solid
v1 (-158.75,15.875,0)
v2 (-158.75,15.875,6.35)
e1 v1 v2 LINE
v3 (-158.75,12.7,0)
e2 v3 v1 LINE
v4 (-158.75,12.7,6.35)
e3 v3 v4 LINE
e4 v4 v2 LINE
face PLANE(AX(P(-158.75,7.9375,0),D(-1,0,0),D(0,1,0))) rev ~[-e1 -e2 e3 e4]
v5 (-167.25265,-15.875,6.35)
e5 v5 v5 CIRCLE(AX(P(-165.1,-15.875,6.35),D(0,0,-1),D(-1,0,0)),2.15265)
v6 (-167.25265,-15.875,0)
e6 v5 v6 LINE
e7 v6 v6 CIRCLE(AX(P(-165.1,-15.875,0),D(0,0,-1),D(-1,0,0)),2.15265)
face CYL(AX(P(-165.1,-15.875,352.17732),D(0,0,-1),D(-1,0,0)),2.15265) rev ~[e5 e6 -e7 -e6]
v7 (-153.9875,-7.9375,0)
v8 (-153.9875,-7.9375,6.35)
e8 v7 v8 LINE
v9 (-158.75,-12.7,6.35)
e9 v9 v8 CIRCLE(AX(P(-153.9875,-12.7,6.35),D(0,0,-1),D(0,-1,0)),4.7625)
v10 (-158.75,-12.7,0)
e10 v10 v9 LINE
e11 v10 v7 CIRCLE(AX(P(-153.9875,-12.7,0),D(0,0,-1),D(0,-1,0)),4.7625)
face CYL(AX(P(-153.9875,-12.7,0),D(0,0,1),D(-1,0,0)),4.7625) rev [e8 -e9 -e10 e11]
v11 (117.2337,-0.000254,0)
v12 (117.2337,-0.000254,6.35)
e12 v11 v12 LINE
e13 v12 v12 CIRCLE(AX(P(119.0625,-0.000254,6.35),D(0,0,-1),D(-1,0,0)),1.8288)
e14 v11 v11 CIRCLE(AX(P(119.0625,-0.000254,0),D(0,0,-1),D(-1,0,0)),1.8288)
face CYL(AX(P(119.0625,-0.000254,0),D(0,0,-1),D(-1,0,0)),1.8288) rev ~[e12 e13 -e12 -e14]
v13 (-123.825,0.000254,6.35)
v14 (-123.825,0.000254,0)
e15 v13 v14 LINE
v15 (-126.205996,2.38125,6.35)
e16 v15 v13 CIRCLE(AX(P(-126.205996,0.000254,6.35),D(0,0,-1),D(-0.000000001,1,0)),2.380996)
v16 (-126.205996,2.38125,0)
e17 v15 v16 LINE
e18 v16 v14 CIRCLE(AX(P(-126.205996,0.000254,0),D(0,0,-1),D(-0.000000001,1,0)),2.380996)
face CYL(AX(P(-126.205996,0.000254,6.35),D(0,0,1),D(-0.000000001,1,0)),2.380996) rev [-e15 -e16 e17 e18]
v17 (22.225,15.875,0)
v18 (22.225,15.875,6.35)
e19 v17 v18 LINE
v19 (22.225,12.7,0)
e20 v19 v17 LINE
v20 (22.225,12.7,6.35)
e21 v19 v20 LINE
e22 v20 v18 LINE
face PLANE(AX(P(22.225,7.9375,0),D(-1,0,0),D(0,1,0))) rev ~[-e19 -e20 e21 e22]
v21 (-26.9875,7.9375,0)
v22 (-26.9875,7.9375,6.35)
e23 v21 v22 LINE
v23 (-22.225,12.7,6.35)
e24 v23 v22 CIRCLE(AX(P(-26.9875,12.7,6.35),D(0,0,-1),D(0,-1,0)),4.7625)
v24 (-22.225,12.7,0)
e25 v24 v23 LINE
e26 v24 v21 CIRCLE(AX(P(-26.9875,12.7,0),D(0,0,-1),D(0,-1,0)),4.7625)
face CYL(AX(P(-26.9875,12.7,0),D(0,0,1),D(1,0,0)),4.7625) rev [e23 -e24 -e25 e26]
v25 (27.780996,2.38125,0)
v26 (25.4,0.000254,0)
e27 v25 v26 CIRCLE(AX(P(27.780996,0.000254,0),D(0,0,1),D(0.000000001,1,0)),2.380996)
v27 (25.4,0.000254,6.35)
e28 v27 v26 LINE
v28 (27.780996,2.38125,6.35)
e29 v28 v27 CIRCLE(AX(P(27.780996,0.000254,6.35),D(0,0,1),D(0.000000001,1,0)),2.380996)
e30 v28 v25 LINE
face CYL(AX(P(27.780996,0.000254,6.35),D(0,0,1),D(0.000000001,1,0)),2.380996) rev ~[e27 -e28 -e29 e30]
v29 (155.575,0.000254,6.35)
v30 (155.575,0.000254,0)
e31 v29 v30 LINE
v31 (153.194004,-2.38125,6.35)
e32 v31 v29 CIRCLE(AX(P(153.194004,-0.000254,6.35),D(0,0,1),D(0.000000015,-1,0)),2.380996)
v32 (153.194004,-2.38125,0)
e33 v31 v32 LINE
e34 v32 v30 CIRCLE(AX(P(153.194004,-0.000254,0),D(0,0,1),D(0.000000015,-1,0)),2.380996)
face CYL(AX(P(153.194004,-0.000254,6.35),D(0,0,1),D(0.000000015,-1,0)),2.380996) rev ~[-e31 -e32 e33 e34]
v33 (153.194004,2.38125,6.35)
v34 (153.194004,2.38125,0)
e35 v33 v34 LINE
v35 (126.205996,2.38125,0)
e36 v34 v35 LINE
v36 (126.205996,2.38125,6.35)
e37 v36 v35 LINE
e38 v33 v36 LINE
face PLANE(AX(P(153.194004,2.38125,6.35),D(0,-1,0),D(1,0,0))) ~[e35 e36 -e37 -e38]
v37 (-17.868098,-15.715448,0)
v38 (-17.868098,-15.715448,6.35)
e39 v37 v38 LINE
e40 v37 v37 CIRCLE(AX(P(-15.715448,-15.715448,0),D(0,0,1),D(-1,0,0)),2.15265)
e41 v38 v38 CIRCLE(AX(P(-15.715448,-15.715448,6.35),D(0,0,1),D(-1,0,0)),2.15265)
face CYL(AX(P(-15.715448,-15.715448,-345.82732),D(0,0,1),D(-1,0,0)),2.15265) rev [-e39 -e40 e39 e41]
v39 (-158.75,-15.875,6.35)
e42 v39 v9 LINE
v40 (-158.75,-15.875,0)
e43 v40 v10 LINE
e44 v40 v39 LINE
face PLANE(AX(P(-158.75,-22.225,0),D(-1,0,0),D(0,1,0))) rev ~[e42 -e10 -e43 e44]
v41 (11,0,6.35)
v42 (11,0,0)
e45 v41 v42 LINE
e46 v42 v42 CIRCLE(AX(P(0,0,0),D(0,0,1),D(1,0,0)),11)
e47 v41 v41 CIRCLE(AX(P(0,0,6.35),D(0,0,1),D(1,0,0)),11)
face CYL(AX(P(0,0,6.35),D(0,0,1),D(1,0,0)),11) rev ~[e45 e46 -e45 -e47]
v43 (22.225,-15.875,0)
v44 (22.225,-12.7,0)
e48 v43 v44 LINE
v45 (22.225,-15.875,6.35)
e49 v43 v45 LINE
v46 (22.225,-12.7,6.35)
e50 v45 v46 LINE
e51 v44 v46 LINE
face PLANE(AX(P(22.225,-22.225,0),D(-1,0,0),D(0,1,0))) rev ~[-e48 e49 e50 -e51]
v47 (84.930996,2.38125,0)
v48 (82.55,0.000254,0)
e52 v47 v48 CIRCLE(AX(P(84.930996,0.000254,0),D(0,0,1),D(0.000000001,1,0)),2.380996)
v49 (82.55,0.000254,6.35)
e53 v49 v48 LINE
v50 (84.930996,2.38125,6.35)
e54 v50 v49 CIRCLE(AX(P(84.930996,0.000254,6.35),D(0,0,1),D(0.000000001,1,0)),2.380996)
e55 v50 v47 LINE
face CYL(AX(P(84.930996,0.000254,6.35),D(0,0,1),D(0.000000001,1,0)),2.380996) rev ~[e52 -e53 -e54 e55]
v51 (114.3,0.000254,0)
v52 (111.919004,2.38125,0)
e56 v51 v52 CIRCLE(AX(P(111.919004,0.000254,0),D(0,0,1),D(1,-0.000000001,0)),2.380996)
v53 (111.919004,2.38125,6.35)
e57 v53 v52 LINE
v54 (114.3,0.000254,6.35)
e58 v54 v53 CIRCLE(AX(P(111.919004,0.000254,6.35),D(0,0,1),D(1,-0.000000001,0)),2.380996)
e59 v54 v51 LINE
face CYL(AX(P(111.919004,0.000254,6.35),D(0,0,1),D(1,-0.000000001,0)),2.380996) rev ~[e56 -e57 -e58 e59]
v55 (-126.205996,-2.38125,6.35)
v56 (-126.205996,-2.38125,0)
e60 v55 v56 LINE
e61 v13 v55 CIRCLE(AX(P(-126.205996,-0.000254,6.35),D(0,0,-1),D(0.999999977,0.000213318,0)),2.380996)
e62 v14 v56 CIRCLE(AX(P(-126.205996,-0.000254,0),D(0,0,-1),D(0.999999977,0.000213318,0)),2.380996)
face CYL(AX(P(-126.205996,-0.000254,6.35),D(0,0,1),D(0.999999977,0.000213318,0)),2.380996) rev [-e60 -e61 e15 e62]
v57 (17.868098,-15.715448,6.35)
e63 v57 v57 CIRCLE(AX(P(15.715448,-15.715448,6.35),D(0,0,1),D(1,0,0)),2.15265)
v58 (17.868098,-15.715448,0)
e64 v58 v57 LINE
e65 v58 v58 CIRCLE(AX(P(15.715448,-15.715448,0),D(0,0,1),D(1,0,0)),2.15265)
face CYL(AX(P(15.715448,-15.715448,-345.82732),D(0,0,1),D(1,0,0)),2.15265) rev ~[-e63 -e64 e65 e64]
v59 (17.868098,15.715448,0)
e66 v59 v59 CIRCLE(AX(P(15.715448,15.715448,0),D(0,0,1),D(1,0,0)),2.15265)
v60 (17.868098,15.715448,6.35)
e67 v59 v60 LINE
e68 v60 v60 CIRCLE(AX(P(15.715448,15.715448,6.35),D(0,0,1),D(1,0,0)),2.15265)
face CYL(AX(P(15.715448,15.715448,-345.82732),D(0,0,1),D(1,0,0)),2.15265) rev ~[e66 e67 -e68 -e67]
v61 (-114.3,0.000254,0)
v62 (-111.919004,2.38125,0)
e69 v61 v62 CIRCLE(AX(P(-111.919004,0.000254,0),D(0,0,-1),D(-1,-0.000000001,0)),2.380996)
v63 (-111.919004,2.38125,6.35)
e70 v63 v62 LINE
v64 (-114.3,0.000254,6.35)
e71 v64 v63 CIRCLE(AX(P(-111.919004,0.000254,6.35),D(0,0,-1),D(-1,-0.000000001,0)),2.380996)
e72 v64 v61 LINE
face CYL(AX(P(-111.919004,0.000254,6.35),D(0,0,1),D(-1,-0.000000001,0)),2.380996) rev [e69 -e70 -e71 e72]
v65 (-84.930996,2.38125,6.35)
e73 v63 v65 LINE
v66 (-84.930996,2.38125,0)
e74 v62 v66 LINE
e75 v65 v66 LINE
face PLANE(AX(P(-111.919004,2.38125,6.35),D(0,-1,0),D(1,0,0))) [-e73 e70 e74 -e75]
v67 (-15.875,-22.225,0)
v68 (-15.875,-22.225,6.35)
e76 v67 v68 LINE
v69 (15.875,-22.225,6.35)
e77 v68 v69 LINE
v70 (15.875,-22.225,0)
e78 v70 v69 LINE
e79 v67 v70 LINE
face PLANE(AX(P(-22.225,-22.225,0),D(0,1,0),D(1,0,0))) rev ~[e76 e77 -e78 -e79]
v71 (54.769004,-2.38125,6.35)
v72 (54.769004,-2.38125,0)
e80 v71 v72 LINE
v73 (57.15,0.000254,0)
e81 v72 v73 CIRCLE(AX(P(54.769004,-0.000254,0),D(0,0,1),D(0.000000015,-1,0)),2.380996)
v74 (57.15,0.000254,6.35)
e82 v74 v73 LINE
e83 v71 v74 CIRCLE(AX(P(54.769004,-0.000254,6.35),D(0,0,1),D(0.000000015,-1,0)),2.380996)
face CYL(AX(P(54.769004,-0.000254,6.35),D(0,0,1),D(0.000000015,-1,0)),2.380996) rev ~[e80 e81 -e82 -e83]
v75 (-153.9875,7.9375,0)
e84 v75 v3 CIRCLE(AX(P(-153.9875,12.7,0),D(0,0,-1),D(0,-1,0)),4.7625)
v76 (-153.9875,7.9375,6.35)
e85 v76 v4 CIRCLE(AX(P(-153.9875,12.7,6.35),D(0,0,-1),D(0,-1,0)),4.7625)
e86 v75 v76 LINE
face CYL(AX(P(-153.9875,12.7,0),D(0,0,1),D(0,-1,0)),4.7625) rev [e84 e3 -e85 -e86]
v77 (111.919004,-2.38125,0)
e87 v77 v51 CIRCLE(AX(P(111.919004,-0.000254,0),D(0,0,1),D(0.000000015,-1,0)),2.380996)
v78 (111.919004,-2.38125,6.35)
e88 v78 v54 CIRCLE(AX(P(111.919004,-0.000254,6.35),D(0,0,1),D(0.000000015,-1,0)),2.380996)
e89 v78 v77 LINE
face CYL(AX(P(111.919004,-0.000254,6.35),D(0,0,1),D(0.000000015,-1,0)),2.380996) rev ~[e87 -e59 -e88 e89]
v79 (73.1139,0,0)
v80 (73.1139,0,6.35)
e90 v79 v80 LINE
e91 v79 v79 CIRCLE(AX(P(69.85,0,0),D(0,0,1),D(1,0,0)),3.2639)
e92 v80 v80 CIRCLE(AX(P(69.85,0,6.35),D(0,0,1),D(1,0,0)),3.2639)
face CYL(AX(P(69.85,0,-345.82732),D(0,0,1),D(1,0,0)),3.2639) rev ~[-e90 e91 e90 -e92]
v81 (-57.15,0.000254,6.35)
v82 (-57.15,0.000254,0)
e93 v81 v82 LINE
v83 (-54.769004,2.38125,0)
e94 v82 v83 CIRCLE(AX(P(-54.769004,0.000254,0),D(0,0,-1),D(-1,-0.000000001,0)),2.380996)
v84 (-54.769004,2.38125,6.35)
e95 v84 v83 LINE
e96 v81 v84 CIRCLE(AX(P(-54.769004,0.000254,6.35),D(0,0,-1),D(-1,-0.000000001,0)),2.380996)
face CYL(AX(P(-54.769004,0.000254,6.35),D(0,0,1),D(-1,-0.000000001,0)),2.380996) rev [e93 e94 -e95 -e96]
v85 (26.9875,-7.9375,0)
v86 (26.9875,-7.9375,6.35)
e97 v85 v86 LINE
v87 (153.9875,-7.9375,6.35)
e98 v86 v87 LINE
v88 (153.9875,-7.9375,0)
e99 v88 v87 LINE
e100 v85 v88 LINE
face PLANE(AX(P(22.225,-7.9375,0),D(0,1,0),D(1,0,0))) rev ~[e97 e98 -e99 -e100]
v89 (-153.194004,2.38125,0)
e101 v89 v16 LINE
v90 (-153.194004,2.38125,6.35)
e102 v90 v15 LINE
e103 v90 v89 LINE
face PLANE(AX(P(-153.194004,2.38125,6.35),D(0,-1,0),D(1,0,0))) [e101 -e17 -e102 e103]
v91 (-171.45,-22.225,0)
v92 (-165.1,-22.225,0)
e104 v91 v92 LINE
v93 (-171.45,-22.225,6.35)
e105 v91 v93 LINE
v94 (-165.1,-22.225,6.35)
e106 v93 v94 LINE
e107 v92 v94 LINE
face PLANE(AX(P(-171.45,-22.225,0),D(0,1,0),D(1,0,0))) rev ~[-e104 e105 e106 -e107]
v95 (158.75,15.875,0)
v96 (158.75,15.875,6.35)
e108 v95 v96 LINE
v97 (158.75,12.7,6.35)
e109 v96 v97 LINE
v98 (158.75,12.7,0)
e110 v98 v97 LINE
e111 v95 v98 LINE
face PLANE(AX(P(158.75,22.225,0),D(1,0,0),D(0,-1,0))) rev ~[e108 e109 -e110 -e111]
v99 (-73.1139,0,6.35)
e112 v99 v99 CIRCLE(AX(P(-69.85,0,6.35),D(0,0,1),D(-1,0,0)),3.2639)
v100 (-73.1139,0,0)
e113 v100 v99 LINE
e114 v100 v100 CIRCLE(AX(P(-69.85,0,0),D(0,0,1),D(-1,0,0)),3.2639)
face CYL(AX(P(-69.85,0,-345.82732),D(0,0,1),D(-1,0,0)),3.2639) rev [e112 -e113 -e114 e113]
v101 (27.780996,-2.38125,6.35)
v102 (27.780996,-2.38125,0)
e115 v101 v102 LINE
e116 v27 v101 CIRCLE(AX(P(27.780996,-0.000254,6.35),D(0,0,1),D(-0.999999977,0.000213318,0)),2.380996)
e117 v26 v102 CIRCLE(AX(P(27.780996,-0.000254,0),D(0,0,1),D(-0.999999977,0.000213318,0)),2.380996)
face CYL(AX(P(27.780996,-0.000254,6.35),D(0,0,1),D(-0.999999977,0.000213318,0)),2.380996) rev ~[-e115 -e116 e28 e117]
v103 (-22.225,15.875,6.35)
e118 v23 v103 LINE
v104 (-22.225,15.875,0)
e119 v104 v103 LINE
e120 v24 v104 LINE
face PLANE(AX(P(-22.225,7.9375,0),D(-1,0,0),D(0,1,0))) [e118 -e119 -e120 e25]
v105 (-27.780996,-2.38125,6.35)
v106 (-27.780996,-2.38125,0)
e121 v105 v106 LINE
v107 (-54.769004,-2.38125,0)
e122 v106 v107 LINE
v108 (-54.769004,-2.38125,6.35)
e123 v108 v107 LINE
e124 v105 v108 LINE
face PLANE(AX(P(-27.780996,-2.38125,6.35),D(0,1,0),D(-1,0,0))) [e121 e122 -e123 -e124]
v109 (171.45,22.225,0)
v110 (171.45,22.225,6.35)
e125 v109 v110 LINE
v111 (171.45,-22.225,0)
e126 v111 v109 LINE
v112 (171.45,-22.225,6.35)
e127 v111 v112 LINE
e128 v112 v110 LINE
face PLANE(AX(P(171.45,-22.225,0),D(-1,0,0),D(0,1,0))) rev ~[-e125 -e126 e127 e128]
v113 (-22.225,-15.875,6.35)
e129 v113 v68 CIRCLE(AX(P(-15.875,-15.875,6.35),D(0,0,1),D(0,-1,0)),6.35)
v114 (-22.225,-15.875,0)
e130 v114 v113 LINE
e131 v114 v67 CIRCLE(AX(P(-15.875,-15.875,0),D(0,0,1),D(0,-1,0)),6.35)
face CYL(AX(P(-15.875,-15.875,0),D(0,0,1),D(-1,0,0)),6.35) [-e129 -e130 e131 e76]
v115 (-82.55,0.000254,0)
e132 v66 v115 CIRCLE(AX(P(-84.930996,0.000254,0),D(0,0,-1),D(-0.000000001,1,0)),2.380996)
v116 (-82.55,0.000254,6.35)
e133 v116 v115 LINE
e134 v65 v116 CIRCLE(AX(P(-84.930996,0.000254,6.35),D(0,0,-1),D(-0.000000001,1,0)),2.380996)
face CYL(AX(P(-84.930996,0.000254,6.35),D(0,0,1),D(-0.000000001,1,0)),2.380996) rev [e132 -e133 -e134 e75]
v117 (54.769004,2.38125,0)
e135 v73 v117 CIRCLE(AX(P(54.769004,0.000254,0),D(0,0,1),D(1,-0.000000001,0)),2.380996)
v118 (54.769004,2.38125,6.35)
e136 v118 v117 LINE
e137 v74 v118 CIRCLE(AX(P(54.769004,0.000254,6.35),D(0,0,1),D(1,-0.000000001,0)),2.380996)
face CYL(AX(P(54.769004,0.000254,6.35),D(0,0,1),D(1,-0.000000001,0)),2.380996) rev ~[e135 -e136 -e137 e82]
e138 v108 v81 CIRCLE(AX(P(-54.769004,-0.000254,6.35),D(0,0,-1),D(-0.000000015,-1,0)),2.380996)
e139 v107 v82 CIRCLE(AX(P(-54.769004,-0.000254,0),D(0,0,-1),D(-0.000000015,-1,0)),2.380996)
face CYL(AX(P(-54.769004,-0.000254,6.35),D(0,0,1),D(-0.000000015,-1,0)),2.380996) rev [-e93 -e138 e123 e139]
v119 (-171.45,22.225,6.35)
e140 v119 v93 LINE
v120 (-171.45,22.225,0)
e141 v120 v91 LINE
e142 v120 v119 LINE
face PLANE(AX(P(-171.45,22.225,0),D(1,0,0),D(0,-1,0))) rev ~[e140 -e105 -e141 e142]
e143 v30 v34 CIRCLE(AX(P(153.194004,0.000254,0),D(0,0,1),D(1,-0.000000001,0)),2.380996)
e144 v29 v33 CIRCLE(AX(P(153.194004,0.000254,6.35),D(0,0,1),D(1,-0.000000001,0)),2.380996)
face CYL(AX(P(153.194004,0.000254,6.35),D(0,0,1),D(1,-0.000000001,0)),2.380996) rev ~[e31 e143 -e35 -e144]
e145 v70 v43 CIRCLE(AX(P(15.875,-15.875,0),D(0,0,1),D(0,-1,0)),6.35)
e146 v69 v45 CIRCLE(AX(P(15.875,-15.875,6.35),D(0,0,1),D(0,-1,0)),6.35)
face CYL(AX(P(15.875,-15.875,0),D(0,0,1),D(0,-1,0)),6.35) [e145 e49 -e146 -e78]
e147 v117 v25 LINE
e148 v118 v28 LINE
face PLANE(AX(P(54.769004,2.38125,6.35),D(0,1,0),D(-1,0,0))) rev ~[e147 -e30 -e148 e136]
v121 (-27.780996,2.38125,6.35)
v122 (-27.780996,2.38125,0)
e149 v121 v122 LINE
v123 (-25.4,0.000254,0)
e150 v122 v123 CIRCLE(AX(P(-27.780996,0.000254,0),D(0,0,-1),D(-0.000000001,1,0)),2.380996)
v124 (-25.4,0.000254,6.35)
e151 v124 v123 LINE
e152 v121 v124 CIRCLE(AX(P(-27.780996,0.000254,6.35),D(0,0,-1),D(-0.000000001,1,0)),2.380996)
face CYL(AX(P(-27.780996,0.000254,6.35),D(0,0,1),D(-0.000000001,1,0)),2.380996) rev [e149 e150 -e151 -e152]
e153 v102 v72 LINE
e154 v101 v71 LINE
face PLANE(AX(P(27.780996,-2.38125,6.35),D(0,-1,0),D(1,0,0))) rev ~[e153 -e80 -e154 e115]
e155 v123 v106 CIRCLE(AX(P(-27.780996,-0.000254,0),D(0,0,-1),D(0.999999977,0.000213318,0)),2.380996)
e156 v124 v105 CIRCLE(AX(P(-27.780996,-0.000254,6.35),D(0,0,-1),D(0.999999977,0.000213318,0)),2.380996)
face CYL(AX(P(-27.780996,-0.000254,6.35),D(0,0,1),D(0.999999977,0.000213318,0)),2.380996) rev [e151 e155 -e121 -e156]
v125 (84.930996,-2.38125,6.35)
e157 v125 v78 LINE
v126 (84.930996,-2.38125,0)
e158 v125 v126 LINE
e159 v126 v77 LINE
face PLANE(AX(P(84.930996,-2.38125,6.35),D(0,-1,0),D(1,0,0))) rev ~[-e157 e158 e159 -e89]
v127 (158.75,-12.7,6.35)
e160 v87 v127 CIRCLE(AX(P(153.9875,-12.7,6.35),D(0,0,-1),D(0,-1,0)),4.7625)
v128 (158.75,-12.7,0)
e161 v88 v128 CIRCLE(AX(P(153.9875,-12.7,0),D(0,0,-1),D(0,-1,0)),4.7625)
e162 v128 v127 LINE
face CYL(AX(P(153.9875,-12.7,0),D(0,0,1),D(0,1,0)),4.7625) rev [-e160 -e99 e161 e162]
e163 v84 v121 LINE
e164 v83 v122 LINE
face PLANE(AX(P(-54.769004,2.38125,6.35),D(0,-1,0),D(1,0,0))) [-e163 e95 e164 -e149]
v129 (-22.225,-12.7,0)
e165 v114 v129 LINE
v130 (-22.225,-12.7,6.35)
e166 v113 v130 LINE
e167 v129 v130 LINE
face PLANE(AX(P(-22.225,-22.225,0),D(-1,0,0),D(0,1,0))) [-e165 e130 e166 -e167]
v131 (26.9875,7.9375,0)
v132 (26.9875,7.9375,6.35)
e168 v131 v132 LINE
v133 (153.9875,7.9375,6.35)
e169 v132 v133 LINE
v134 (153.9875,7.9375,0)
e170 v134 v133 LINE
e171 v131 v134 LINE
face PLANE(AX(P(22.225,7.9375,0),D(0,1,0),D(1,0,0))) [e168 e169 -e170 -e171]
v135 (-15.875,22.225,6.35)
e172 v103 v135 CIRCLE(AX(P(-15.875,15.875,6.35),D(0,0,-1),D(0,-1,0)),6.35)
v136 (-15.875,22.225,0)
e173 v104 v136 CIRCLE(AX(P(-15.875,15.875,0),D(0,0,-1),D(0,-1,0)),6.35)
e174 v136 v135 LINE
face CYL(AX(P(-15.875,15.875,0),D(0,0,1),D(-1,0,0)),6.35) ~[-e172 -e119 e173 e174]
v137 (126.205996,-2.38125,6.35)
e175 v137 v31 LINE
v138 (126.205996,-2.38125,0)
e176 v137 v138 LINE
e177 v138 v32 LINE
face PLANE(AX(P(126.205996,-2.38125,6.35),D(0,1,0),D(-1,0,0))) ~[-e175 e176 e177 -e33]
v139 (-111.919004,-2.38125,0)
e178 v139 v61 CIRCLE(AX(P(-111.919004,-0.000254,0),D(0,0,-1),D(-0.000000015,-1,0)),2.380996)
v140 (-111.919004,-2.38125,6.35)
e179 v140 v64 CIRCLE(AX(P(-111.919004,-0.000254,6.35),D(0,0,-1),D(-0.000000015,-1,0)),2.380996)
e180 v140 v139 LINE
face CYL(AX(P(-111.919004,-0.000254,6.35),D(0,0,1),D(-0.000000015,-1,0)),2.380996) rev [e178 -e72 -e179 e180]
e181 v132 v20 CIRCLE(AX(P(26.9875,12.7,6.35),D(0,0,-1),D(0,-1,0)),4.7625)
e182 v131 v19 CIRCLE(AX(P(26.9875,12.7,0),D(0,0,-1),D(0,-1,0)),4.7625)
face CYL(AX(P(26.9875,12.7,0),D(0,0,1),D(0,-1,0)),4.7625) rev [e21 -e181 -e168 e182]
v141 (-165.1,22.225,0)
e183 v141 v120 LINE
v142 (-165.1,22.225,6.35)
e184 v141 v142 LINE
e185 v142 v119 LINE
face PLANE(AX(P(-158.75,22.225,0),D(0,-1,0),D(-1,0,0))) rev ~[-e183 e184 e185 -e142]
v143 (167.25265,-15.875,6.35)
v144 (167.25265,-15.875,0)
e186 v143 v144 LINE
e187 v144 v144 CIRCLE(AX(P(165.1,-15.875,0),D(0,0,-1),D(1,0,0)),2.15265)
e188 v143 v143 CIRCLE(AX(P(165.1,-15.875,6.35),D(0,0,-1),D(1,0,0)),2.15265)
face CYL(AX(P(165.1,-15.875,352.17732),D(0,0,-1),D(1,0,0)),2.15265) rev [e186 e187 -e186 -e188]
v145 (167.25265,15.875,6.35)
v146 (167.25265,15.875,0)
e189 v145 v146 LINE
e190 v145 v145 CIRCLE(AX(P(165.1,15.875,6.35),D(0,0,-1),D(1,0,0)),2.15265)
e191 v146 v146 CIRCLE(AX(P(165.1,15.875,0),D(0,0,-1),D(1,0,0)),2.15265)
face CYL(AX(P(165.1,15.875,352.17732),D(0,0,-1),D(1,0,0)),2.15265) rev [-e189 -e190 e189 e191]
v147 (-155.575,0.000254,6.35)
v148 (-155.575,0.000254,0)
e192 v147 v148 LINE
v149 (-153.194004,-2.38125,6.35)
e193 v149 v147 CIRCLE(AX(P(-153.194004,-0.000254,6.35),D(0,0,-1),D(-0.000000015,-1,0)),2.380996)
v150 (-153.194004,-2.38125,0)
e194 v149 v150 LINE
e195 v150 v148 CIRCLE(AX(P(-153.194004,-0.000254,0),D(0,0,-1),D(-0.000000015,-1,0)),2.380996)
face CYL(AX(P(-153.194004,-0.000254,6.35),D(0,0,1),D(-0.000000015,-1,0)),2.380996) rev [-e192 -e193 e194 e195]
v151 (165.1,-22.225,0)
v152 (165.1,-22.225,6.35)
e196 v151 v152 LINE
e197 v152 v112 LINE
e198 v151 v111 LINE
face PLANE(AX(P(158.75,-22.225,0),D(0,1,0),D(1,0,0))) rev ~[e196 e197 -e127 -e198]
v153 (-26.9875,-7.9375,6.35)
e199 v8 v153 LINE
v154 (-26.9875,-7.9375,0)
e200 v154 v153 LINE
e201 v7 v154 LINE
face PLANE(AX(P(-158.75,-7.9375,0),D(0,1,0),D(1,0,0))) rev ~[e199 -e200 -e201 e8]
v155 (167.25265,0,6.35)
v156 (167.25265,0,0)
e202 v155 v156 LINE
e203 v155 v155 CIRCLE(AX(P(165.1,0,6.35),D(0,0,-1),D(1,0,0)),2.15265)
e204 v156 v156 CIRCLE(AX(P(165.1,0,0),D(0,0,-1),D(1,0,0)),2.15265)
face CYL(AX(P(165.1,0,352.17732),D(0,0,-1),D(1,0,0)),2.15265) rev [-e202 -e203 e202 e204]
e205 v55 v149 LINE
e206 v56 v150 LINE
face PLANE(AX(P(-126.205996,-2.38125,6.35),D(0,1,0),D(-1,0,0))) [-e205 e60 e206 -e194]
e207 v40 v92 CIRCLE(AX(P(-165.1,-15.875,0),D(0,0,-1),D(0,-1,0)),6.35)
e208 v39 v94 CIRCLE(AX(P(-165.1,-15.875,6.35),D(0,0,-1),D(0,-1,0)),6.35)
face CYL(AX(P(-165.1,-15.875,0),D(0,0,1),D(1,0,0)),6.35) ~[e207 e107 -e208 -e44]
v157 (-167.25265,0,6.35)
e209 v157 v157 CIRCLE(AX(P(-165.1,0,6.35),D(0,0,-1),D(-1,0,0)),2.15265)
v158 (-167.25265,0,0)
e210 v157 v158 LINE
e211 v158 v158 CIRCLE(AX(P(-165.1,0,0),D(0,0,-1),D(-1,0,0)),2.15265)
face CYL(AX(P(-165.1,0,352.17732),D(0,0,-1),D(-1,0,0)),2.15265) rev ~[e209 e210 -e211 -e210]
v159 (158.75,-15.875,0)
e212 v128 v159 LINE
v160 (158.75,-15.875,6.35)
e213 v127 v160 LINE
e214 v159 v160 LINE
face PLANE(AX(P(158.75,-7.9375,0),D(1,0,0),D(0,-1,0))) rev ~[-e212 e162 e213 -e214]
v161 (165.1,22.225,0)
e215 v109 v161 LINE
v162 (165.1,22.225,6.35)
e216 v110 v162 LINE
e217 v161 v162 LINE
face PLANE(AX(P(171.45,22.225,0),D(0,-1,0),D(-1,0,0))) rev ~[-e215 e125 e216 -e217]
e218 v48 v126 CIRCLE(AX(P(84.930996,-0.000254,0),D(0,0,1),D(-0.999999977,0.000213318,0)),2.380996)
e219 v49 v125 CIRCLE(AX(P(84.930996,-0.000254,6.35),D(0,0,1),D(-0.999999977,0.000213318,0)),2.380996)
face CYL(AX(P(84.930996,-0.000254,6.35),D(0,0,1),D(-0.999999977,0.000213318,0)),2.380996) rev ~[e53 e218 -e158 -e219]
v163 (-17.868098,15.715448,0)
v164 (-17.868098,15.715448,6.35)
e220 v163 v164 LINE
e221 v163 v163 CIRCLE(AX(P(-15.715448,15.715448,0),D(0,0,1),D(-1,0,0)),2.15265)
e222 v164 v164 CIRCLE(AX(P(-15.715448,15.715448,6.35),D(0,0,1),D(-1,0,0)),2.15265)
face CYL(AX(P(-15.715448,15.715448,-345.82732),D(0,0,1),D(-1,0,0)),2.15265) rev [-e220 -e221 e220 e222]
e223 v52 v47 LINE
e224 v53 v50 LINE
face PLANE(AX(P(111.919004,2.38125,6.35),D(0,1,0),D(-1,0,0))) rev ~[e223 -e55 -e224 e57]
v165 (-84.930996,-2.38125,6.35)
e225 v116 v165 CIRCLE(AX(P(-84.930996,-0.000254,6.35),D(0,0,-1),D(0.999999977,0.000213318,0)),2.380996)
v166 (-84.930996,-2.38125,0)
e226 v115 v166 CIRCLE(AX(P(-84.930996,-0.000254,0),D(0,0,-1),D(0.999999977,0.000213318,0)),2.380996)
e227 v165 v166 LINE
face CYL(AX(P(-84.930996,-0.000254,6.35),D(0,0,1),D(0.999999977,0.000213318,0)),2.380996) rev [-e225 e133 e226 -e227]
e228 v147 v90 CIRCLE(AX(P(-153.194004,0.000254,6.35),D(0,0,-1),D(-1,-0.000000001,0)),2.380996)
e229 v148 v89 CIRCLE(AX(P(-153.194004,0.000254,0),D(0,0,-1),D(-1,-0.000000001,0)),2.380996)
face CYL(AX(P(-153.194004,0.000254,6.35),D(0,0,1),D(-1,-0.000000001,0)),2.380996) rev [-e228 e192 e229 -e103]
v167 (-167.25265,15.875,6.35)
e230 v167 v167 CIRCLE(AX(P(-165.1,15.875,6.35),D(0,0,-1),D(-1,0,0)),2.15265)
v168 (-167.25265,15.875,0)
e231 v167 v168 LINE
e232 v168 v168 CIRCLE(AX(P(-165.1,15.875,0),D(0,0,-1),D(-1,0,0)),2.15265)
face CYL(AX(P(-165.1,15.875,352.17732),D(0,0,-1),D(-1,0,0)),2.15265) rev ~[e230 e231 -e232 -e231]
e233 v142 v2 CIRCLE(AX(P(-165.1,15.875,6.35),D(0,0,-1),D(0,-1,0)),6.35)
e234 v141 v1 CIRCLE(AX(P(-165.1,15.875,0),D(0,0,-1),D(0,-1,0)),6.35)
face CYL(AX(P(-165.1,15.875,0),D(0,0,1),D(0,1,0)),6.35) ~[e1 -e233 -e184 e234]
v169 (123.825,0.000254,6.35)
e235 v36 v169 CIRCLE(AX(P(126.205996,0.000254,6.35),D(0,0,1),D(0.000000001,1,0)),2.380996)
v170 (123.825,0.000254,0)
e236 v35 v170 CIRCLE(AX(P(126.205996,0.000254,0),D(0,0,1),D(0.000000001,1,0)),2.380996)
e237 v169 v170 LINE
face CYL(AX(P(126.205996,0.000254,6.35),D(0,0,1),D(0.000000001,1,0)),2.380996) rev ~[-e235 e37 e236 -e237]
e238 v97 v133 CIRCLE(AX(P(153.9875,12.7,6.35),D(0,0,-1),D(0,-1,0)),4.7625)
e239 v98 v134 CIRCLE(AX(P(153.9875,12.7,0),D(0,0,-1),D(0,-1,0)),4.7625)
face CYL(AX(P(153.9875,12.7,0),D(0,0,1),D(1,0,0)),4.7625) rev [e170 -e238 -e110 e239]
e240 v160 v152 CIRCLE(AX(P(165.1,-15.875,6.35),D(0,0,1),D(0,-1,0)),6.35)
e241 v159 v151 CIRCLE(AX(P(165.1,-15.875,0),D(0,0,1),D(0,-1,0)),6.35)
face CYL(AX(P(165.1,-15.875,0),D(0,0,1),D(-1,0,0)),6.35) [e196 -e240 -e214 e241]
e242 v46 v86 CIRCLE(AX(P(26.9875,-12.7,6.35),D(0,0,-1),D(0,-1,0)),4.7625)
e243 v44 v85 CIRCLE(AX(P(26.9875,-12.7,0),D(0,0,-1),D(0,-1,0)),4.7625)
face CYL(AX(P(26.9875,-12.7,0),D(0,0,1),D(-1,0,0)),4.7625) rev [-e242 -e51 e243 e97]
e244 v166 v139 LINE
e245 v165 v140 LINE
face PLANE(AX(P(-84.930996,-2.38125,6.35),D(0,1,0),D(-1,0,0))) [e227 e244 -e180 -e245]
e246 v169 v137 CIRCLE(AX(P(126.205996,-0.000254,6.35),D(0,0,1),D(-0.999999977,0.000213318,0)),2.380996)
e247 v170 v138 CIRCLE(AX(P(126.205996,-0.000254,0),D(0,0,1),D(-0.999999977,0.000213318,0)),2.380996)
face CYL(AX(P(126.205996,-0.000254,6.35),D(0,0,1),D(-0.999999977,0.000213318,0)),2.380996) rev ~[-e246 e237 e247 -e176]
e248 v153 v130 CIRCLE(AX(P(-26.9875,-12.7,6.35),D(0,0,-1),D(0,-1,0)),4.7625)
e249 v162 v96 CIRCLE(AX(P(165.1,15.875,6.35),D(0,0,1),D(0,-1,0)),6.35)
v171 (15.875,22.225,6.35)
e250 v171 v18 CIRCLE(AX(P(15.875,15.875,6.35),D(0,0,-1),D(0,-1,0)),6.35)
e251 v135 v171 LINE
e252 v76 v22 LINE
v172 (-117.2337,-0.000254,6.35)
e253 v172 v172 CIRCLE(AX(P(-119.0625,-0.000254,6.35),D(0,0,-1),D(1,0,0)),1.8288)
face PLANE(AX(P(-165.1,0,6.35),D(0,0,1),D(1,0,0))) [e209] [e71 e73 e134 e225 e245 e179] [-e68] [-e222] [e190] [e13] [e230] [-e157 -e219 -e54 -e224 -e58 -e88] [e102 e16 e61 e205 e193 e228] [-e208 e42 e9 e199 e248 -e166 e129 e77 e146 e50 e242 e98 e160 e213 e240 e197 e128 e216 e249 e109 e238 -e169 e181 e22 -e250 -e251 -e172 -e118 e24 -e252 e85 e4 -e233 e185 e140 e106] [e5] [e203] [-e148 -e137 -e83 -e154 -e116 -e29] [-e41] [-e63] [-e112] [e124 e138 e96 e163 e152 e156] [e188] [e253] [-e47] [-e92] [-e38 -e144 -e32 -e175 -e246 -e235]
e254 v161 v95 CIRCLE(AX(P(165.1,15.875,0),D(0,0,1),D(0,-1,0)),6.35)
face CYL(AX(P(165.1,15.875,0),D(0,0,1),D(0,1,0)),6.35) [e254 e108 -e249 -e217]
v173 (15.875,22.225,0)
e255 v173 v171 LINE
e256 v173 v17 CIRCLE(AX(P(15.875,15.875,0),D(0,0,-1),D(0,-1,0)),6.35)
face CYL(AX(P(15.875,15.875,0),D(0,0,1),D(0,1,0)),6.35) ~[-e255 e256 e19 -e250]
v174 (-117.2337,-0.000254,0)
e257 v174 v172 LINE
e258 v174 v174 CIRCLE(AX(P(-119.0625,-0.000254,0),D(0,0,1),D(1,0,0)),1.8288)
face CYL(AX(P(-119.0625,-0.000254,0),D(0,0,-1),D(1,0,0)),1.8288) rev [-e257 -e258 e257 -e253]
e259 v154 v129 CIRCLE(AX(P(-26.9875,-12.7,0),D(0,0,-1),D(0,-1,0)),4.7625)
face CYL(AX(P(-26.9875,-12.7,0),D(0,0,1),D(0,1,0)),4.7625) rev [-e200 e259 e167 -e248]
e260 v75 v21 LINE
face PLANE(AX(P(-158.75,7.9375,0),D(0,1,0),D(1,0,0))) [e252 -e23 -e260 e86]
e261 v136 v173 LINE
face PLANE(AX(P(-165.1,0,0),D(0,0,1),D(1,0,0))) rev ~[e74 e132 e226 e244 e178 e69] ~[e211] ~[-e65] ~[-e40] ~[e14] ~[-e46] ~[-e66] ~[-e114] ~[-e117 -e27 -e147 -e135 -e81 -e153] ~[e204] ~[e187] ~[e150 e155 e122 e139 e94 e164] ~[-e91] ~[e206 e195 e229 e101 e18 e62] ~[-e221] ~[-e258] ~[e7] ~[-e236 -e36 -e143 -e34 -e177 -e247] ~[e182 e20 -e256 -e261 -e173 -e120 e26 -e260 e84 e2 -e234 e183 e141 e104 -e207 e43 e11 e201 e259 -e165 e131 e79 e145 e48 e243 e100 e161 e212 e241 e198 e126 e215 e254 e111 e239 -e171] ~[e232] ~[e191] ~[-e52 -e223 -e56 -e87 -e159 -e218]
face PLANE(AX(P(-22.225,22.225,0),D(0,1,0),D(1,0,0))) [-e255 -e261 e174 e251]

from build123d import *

# Parameters (mm, degrees)
SKETCH4_W                    = 136.525
SKETCH4_H                    = 15.875
SKETCH4_W_2                  = 44.45
SKETCH4_H_2                  = 14.2875
BOSS_EXTRUDE2_DEPTH          = 6.35
FILLET4_R                    = 4.7625
FILLET5_R                    = 6.35
CUT_EXTRUDE3_DEPTH           = 6.35
F_18_0_1695_DIAMETER_HOLE1_D = 4.3053
F_18_0_1695_DIAMETER_HOLE2_D = 4.3053
LPATTERN1_COUNT              = 2
LPATTERN1_PITCH              = 41.275
F_0_257_DIAMETER_HOLE1_D     = 6.5278
SKETCH5_R                    = 11
CUT_EXTRUDE4_DEPTH           = 7.35
LPATTERN2_COUNT              = 2
LPATTERN2_PITCH              = 98.425
MIRROR1_COPY_1_DEPTH         = 6.35
MIRROR1_COPY_2_DEPTH         = 6.35
SKETCH20_R                   = 1.8288
CUT_EXTRUDE5_DEPTH           = 7.35


with BuildPart() as part:
    # Sketch4 → Boss-Extrude2 (new body)
    with BuildSketch(Plane.XY):
        Polygon((-158.75, -22.225), (-158.75, -7.9375), (-158.75, 7.9375), (-158.75, 22.225), (-171.45, 22.225), (-171.45, -22.225), align=None)
        with Locations((-90.4875, 0)):
            Rectangle(SKETCH4_W, SKETCH4_H)
        with Locations((0, 15.08125)):
            Rectangle(SKETCH4_W_2, SKETCH4_H_2)
        Rectangle(SKETCH4_W_2, SKETCH4_H)
        with Locations((0, -15.08125)):
            Rectangle(SKETCH4_W_2, SKETCH4_H_2)
        with Locations((90.4875, 0)):
            Rectangle(SKETCH4_W, SKETCH4_H)
        Polygon((158.75, 7.9375), (158.75, -7.9375), (158.75, -22.225), (171.45, -22.225), (171.45, 22.225), (158.75, 22.225), align=None)
    extrude(amount=BOSS_EXTRUDE2_DEPTH)

    # Fillet4
    fillet4_edges = [part.edges().sort_by_distance(p)[0] for p in [
        (-158.75, 7.9375, 3.175),
        (-22.225, 7.9375, 3.175),
        (22.225, 7.9375, 3.175),
        (158.75, 7.9375, 3.175),
        (158.75, -7.9375, 3.175),
        (22.225, -7.9375, 3.175),
        (-22.225, -7.9375, 3.175),
        (-158.75, -7.9375, 3.175),
    ]]
    fillet(fillet4_edges, radius=FILLET4_R)

    # Fillet5
    fillet5_edges = [part.edges().sort_by_distance(p)[0] for p in [
        (-158.75, 22.225, 3.175),
        (-22.225, 22.225, 3.175),
        (22.225, 22.225, 3.175),
        (158.75, 22.225, 3.175),
        (158.75, -22.225, 3.175),
        (22.225, -22.225, 3.175),
        (-22.225, -22.225, 3.175),
        (-158.75, -22.225, 3.175),
    ]]
    fillet(fillet5_edges, radius=FILLET5_R)

    # Sketch7 → Cut-Extrude3 (cut)
    with BuildSketch(Plane.XY.offset(6.35)):
        with BuildLine():
            Line((-153.194004, 2.38125), (-126.205996004, 2.38125))
            ThreePointArc((-126.205996004, 2.38125), (-124.522377586, 1.683872418), (-123.825000004, 0.000254))
            ThreePointArc((-123.825000004, 0.000254), (-124.522377586, -1.683872418), (-126.205996004, -2.38125))
            Line((-126.205996004, -2.38125), (-153.194004, -2.38125))
            ThreePointArc((-153.194004, -2.38125), (-154.877622418, -1.683872418), (-155.575, 0.000254))
            ThreePointArc((-155.575, 0.000254), (-154.877622418, 1.683872418), (-153.194004, 2.38125))
        make_face()
    cut_extrude3 = extrude(amount=-CUT_EXTRUDE3_DEPTH, mode=Mode.SUBTRACT)

    # #18 (0.1695) Diameter Hole1 (through all)
    with Locations(Plane.XY.offset(6.35)):
        with Locations((-165.1, 15.875), (-165.1, 0), (-165.1, -15.875)):
            f_18_0_1695_diameter_hole1 = Hole(F_18_0_1695_DIAMETER_HOLE1_D / 2)

    # #18 (0.1695) Diameter Hole2 (through all)
    with Locations(Plane(origin=(0, 0, 0), x_dir=(-1, 0, 0), z_dir=(0, 0, -1))):
        with Locations((-15.715448212, -15.715448212), (-15.715448212, 15.715448212)):
            f_18_0_1695_diameter_hole2 = Hole(F_18_0_1695_DIAMETER_HOLE2_D / 2)

    # LPattern1: Cut-Extrude3 ×2
    with Locations(*[(i * LPATTERN1_PITCH, 0, 0) for i in range(1, LPATTERN1_COUNT)]):
        add(cut_extrude3, mode=Mode.SUBTRACT)

    # F (0.257) Diameter Hole1 (through all)
    with Locations(Plane(origin=(0, 0, 0), x_dir=(-1, 0, 0), z_dir=(0, 0, -1))):
        with Locations((-69.85, 0)):
            f_0_257_diameter_hole1 = Hole(F_0_257_DIAMETER_HOLE1_D / 2)

    # Sketch5 → Cut-Extrude4 (cut, through all)
    with BuildSketch(Plane.XY.offset(6.35)):
        Circle(SKETCH5_R)
    extrude(amount=-CUT_EXTRUDE4_DEPTH, mode=Mode.SUBTRACT)

    # LPattern2: Cut-Extrude3 ×2
    with Locations(*[(i * LPATTERN2_PITCH, 0, 0) for i in range(1, LPATTERN2_COUNT)]):
        add(cut_extrude3, mode=Mode.SUBTRACT)

    # Mirror1: #18 (0.1695) Diameter Hole2, #18 (0.1695) Diameter Hole1, F (0.257) Diameter Hole1, Cut-Extrude3 across plane
    add(f_18_0_1695_diameter_hole2.mirror(Plane(origin=(0, 0, 0), x_dir=(0, 0, 1), z_dir=(1, 0, 0))), mode=Mode.SUBTRACT)
    add(f_18_0_1695_diameter_hole1.mirror(Plane(origin=(0, 0, 0), x_dir=(0, 0, 1), z_dir=(1, 0, 0))), mode=Mode.SUBTRACT)
    add(f_0_257_diameter_hole1.mirror(Plane(origin=(0, 0, 0), x_dir=(0, 0, 1), z_dir=(1, 0, 0))), mode=Mode.SUBTRACT)
    add(cut_extrude3.mirror(Plane(origin=(0, 0, 0), x_dir=(0, 0, 1), z_dir=(1, 0, 0))), mode=Mode.SUBTRACT)

    # Mirror1 copy 1 sketch → Mirror1 copy 1 (cut)
    with BuildSketch(Plane(origin=(-98.425, 0, 6.35), x_dir=(-1, 0, 0), z_dir=(0, 0, 1))):
        with BuildLine():
            Line((-153.194004, -2.38125), (-126.205996004, -2.38125))
            ThreePointArc((-126.205996004, -2.38125), (-124.522377586, -1.683872418), (-123.825000004, -0.000254))
            ThreePointArc((-123.825000004, -0.000254), (-124.522377586, 1.683872418), (-126.205996004, 2.38125))
            Line((-126.205996004, 2.38125), (-153.194004, 2.38125))
            ThreePointArc((-153.194004, 2.38125), (-154.877622418, 1.683872418), (-155.575, -0.000254))
            ThreePointArc((-155.575, -0.000254), (-154.877622418, -1.683872418), (-153.194004, -2.38125))
        make_face()
    extrude(amount=-MIRROR1_COPY_1_DEPTH, mode=Mode.SUBTRACT)

    # Mirror1 copy 2 sketch → Mirror1 copy 2 (cut)
    with BuildSketch(Plane(origin=(-41.275, 0, 6.35), x_dir=(-1, 0, 0), z_dir=(0, 0, 1))):
        with BuildLine():
            Line((-153.194004, -2.38125), (-126.205996004, -2.38125))
            ThreePointArc((-126.205996004, -2.38125), (-124.522377586, -1.683872418), (-123.825000004, -0.000254))
            ThreePointArc((-123.825000004, -0.000254), (-124.522377586, 1.683872418), (-126.205996004, 2.38125))
            Line((-126.205996004, 2.38125), (-153.194004, 2.38125))
            ThreePointArc((-153.194004, 2.38125), (-154.877622418, 1.683872418), (-155.575, -0.000254))
            ThreePointArc((-155.575, -0.000254), (-154.877622418, -1.683872418), (-153.194004, -2.38125))
        make_face()
    extrude(amount=-MIRROR1_COPY_2_DEPTH, mode=Mode.SUBTRACT)

    # Sketch20 → Cut-Extrude5 (cut, through all)
    with BuildSketch(Plane(origin=(0, 0, 0), x_dir=(-1, 0, 0), z_dir=(0, 0, -1))):
        with Locations((-119.062500002, -0.000254)):
            Circle(SKETCH20_R)
    cut_extrude5 = extrude(amount=-CUT_EXTRUDE5_DEPTH, mode=Mode.SUBTRACT)

    # Mirror2: Cut-Extrude5 across plane
    add(cut_extrude5.mirror(Plane(origin=(0, 0, 0), x_dir=(0, 0, 1), z_dir=(1, 0, 0))), mode=Mode.SUBTRACT)


solid = part.part
